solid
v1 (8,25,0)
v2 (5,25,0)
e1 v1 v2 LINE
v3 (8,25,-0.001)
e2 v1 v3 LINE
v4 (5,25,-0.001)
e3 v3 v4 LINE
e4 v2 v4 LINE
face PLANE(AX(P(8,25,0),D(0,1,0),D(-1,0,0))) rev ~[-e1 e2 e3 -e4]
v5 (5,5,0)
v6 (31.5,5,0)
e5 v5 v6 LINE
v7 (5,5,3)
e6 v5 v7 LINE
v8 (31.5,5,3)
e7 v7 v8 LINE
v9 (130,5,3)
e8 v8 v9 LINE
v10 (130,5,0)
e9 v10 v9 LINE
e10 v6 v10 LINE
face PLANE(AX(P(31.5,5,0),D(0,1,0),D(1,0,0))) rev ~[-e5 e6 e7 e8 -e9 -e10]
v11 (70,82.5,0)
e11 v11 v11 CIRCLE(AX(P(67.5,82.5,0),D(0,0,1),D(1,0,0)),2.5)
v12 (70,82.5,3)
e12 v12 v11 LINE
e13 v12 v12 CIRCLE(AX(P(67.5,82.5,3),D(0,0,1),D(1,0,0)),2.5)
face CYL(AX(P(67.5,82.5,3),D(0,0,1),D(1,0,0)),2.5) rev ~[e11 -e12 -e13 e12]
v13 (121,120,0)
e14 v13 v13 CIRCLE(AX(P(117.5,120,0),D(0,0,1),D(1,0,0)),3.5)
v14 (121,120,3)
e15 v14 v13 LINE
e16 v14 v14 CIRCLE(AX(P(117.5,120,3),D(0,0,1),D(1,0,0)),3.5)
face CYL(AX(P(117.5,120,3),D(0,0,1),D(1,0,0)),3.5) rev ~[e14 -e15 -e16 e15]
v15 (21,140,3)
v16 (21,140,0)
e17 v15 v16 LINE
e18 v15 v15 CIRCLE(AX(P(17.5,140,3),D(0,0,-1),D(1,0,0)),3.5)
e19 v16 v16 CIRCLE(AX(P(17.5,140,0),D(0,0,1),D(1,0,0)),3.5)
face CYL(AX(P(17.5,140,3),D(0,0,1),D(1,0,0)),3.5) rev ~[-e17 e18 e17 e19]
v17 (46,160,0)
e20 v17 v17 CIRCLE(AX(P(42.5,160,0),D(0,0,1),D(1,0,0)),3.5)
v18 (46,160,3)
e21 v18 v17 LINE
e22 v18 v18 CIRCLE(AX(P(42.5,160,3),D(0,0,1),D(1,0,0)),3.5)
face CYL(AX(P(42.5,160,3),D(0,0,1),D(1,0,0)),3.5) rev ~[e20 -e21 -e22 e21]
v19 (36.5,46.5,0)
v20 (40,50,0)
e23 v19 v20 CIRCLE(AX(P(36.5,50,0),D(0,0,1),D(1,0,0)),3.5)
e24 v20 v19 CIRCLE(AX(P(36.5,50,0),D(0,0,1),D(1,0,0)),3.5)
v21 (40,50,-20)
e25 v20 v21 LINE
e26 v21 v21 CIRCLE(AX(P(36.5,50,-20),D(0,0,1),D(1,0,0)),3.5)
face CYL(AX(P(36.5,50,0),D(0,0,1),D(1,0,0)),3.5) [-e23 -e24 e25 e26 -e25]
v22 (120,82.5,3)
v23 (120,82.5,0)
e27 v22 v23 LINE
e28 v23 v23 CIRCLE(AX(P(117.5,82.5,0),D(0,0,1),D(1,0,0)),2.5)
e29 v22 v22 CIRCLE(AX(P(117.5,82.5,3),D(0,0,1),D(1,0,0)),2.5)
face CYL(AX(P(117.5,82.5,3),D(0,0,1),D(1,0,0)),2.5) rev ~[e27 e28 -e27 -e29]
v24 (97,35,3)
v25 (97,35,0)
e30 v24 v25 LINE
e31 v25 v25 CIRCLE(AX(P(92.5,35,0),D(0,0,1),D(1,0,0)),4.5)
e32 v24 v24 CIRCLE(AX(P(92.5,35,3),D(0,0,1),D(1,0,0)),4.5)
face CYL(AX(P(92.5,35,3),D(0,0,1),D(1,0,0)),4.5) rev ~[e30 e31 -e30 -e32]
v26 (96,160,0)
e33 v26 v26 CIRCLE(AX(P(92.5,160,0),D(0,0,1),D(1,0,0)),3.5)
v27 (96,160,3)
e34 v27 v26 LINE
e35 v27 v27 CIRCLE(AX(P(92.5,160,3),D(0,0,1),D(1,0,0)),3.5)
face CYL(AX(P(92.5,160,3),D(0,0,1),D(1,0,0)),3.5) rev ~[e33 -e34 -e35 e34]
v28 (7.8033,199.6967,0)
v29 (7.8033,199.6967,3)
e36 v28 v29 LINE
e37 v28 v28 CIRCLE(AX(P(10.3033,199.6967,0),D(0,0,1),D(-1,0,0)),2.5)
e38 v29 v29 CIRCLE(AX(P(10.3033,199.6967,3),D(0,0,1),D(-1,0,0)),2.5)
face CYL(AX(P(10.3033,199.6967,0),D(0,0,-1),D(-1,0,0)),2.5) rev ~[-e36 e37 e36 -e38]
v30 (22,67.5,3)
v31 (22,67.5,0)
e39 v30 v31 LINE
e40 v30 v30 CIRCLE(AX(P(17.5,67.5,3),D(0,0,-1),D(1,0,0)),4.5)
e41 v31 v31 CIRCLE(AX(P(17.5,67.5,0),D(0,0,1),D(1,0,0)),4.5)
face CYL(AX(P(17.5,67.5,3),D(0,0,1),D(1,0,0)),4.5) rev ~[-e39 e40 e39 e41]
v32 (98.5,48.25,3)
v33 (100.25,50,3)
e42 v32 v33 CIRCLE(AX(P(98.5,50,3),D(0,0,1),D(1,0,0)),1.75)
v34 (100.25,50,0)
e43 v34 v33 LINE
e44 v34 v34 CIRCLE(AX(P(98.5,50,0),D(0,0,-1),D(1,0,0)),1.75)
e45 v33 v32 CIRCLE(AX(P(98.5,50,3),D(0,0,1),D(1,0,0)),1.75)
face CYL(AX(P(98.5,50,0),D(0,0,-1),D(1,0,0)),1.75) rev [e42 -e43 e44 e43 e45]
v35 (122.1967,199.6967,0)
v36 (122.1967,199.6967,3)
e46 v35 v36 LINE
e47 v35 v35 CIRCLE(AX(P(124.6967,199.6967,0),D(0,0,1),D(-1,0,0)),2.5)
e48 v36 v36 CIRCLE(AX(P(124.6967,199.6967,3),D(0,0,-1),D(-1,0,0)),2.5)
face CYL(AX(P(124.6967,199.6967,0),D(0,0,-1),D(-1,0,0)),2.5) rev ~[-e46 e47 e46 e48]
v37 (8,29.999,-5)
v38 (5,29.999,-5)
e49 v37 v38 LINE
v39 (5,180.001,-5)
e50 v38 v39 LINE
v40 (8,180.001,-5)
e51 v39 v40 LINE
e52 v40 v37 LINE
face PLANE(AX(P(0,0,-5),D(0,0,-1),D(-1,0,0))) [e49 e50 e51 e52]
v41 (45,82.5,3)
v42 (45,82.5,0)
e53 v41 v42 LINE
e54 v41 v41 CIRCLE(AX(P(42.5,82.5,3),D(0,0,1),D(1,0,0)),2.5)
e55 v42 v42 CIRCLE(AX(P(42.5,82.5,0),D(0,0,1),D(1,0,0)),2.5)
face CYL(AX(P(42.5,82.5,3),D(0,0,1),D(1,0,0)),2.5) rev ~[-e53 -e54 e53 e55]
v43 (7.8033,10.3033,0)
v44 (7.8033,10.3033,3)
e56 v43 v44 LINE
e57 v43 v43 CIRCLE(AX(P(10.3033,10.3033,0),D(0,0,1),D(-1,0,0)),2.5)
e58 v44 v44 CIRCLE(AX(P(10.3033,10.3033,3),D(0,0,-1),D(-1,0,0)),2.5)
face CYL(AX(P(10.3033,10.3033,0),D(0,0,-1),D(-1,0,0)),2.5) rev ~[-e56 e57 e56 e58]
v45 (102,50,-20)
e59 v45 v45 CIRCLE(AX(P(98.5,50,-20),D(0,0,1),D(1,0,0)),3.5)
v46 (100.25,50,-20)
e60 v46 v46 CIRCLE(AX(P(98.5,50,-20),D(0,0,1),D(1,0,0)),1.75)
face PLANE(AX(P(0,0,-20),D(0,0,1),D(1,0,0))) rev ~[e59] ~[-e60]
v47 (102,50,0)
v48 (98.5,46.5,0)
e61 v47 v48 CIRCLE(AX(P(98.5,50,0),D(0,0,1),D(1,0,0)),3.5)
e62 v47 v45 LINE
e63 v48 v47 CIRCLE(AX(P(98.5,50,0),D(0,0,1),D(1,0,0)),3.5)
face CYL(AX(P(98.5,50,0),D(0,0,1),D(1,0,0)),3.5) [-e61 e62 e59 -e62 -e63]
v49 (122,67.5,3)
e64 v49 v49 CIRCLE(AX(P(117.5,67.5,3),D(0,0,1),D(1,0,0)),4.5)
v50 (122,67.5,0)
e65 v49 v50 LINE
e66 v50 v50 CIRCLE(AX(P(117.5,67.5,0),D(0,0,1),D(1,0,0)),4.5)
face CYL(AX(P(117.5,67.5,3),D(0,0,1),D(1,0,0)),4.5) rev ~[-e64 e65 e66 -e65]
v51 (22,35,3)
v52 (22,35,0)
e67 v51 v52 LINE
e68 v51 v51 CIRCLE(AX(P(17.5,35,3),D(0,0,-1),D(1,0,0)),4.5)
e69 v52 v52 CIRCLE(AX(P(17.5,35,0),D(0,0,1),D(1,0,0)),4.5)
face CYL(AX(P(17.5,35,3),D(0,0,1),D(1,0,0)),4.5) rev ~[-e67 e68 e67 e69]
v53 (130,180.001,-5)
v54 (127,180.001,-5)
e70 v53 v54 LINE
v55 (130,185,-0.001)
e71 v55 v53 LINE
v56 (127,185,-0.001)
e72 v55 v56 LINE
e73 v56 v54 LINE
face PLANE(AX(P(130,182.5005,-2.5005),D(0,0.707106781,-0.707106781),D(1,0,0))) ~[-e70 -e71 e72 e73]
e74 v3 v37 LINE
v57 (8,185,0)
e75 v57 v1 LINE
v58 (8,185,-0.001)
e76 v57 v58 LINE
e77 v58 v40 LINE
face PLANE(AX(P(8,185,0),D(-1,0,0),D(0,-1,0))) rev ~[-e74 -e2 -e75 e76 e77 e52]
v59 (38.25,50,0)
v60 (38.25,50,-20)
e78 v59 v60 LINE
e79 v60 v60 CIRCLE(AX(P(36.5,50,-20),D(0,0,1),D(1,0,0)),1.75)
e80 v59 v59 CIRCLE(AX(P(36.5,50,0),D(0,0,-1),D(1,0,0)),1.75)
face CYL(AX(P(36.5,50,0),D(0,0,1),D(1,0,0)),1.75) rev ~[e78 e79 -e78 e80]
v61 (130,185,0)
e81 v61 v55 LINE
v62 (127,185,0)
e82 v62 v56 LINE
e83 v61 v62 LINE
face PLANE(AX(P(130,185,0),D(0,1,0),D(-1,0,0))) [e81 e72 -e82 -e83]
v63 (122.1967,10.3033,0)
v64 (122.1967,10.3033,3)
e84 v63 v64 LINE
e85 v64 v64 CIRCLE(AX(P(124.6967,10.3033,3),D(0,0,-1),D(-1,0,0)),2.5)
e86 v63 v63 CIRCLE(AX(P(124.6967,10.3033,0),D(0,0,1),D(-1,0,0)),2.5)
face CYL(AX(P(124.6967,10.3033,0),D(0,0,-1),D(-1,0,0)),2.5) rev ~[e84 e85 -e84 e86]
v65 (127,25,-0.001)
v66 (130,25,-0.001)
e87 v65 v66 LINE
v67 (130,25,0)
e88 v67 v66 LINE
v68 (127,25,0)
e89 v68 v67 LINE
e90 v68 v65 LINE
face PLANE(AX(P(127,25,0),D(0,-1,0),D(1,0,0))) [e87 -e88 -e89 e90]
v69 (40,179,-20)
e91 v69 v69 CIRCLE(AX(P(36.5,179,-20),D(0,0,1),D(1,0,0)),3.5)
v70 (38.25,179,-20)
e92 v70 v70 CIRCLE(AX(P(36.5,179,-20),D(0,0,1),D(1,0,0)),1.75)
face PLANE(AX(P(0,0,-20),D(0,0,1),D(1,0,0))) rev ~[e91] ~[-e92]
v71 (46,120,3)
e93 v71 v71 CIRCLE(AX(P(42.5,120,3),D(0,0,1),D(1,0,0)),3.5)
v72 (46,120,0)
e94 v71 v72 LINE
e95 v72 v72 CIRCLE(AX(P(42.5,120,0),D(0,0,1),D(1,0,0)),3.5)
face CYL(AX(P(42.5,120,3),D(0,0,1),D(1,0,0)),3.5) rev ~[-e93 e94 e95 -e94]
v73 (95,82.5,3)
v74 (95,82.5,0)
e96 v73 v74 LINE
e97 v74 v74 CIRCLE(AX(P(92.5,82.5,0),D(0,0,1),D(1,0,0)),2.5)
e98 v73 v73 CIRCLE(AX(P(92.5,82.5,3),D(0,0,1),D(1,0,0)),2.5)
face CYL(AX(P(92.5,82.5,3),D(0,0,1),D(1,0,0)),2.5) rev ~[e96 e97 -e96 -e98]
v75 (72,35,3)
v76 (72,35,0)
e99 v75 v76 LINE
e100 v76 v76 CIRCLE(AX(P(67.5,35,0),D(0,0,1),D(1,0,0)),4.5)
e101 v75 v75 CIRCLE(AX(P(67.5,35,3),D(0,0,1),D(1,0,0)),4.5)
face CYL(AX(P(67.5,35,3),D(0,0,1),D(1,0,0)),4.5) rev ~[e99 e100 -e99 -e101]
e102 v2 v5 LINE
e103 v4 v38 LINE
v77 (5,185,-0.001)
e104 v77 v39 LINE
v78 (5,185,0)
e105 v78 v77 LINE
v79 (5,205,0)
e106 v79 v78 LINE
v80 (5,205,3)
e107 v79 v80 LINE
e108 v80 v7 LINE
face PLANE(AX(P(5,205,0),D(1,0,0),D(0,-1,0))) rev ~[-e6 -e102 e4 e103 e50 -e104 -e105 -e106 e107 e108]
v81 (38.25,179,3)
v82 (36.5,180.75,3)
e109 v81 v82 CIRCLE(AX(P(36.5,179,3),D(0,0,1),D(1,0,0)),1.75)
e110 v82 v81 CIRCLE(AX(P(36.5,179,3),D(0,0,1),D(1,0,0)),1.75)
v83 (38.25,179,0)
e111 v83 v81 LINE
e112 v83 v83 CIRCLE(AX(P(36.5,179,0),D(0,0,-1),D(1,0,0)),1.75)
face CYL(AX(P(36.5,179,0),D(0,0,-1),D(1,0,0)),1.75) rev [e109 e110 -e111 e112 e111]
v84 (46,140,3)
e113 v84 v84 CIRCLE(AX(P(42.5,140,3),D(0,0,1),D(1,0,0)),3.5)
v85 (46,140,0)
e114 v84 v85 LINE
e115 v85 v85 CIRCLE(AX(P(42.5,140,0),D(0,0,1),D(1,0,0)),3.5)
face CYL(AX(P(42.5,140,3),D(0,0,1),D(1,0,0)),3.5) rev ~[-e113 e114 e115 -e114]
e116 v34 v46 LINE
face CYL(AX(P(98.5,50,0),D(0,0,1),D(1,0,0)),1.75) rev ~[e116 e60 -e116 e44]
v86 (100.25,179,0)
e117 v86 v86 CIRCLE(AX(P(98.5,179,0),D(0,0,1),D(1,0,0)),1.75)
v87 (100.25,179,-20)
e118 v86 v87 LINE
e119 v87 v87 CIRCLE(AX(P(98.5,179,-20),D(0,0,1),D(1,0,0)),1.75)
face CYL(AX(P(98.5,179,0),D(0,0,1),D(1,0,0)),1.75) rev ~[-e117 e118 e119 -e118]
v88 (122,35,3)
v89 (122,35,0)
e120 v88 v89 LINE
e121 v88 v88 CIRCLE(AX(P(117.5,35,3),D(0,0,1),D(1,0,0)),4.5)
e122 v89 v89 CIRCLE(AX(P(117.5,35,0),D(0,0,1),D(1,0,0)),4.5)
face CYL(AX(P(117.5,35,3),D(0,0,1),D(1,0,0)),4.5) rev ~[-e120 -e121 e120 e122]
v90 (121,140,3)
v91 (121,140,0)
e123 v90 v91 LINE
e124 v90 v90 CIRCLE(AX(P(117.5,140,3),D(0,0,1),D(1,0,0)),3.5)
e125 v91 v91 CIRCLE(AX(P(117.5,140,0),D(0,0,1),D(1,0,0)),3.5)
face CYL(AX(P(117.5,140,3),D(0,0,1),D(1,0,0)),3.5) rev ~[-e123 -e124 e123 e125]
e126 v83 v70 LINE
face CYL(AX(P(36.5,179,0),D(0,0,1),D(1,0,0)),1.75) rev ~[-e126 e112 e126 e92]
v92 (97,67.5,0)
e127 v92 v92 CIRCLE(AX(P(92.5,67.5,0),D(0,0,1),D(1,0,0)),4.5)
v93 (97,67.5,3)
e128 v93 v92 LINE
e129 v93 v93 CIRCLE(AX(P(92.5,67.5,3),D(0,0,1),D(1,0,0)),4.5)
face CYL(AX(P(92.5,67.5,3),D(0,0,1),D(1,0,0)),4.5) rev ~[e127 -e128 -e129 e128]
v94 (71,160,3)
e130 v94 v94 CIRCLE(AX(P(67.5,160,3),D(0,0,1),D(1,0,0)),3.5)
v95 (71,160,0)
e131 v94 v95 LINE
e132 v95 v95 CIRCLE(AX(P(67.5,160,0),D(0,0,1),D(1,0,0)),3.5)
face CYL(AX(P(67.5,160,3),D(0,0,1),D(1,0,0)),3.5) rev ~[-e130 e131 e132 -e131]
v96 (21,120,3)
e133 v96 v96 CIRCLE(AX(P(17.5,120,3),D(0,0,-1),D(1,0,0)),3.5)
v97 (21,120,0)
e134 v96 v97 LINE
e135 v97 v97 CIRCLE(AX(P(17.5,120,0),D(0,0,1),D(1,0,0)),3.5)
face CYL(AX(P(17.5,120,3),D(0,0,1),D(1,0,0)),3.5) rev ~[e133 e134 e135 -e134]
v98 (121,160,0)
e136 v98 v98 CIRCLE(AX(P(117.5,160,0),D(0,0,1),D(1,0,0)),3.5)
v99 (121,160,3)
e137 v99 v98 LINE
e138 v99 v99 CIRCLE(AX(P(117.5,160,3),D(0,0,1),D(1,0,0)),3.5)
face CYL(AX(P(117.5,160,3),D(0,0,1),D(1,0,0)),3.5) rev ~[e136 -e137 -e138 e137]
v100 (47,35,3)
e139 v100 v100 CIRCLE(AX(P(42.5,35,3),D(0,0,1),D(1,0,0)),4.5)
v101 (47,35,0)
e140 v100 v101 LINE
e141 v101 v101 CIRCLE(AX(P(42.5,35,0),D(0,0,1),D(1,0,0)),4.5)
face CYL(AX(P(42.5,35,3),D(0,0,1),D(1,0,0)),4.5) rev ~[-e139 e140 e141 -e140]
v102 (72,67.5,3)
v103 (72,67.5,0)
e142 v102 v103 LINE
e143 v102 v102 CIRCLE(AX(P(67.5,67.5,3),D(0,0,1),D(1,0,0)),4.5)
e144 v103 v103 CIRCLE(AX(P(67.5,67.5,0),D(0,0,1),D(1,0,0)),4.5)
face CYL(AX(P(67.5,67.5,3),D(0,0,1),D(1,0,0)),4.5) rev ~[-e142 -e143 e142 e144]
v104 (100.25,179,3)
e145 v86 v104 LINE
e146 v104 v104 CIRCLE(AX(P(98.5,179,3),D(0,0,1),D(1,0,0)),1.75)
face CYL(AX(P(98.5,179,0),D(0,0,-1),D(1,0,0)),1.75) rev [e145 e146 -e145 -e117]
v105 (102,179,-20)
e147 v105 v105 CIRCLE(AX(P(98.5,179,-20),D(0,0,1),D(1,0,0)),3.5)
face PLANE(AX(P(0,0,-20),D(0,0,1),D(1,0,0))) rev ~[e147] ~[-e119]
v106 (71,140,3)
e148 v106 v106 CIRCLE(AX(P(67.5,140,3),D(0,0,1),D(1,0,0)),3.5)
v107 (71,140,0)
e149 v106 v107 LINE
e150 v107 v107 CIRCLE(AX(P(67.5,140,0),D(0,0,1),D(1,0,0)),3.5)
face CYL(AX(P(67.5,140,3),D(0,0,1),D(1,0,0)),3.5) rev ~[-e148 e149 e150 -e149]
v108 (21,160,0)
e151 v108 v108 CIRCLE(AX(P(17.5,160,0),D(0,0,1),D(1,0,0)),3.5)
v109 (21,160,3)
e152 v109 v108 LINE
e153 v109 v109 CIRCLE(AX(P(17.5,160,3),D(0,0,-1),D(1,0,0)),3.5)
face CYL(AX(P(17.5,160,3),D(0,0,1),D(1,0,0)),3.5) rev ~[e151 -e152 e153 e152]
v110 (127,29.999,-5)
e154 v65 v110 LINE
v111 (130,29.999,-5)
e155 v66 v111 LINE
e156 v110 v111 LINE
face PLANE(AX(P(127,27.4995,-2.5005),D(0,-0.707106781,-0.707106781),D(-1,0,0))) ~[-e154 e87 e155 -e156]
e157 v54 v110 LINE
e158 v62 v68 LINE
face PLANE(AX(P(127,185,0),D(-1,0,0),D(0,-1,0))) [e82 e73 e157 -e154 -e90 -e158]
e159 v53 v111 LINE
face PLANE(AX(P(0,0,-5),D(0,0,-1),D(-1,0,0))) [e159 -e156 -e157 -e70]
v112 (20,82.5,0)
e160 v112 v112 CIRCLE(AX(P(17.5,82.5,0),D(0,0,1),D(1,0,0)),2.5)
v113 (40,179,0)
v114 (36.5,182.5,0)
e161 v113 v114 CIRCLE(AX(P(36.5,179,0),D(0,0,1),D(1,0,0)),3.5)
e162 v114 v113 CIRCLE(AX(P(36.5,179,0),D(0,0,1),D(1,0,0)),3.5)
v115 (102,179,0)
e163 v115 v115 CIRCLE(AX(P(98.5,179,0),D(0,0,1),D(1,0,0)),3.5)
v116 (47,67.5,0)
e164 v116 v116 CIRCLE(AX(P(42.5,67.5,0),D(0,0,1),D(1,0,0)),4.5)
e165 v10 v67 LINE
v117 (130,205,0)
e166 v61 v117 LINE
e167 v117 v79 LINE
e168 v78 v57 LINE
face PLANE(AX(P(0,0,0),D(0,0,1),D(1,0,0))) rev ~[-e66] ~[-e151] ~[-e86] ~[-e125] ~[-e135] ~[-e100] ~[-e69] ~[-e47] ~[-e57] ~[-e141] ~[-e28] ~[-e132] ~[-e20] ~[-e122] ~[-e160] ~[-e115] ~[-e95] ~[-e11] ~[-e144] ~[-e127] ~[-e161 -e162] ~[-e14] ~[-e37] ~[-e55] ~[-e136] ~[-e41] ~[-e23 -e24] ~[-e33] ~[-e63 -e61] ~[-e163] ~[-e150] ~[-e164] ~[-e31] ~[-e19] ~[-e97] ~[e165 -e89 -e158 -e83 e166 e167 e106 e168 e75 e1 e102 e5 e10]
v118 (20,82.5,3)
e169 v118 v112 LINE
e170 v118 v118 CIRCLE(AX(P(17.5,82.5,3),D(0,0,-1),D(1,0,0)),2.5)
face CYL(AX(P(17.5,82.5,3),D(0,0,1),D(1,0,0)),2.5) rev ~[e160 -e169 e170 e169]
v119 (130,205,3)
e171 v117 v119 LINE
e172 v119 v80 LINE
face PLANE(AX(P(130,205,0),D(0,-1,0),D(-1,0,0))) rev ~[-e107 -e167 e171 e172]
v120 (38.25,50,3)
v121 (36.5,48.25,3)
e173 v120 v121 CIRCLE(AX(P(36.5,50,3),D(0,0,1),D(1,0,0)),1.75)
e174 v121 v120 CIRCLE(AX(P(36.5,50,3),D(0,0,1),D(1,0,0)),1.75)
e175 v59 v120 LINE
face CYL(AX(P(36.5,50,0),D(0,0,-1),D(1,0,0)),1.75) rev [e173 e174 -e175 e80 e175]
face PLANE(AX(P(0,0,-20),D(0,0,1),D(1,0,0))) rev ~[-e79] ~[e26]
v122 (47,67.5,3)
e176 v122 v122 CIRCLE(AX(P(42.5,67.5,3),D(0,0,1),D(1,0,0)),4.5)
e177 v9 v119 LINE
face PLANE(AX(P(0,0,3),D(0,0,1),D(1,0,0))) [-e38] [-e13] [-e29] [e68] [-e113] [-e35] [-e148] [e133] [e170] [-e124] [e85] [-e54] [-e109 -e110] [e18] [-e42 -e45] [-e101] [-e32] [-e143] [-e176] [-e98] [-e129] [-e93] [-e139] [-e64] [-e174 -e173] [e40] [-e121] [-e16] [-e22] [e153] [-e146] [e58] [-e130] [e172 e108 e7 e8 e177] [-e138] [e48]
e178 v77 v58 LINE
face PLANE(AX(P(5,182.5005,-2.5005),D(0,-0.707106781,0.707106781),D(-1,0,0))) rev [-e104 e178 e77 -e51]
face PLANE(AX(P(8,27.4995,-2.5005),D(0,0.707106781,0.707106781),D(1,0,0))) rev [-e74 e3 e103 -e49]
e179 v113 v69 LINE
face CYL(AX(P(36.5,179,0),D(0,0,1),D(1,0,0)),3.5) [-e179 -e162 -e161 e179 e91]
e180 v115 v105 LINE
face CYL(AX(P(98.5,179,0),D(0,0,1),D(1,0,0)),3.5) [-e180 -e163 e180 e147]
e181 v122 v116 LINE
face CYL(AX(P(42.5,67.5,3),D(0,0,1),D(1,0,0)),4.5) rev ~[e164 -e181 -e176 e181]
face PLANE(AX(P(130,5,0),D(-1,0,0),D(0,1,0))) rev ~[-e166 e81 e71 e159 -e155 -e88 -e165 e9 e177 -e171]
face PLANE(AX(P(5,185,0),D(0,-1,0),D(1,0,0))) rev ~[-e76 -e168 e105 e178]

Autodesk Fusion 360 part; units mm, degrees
sketch "Sketch1" plane through (0, 0, 0) normal (0, 0, 1) x (1, 0, 0)
  line L0 (5, 5) -> (130, 5)
  line L1 (130, 5) -> (130, 205)
  line L2 (130, 205) -> (5, 205)
  line L3 (5, 205) -> (5, 5)
  line L4 (5, 5) -> (31.5, 5)
  line L5 (31.5, 5) -> (31.5, 45)
  line L6 (31.5, 45) -> (103.5, 45)
  line L7 (103.5, 45) -> (103.5, 184)
  line L8 (103.5, 184) -> (31.5, 184)
  line L9 (31.5, 184) -> (31.5, 45)
  line L10 (31.5, 45) -> (36.5, 45)
  line L11 (36.5, 45) -> (36.5, 50)
  circle A0 centre (36.5, 50) radius 1.75
  line L12 (103.5, 45) -> (98.5, 45)
  line L13 (98.5, 45) -> (98.5, 50)
  circle A1 centre (98.5, 50) radius 1.75
  line L14 (31.5, 184) -> (36.5, 184)
  line L15 (36.5, 184) -> (36.5, 179)
  circle A2 centre (36.5, 179) radius 1.75
  line L16 (103.5, 184) -> (103.5, 179)
  line L17 (103.5, 179) -> (98.5, 179)
  circle A3 centre (98.5, 179) radius 1.75
  dimension "d1" = 125
  dimension "d2" = 200
  dimension "d58" = 26.5
  dimension "d59" = 40
  dimension "d60" = 72
  dimension "d61" = 139
  dimension "d62" = 5
  dimension "d63" = 5
  dimension "d64" = 3.5
  dimension "d65" = 5
  dimension "d66" = 5
  dimension "d67" = 3.5
  dimension "d68" = 5
  dimension "d69" = 5
  dimension "d70" = 3.5
  dimension "d71" = 5
  dimension "d72" = 5
  dimension "d73" = 3.5
extrude "Extrude1" add sketch "Sketch1" along normal blind 3 contours L6 L7 L8 L9 L10 L12 L14 L16 | L0 L1 L2 L3 L4
sketch "Sketch2" plane through (0, 0, 0) normal (0, 0, -1) x (-1, 0, 0)
  line L0 (-5, 5) -> (-5, 205)
  line L1 (-5, 205) -> (-130, 205)
  line L2 (-130, 205) -> (-130, 5)
  line L3 (-130, 5) -> (-5, 5)
  line L4 (-130, 205) -> (-130, 185)
  line L5 (-130, 5) -> (-130, 25)
  line L6 (-130, 185) -> (-127, 185)
  line L7 (-127, 185) -> (-127, 25)
  line L8 (-127, 25) -> (-130, 25)
  line L9 (-130, 25) -> (-130, 185)
  line L10 (-8, 185) -> (-8, 25)
  line L11 (-5, 25) -> (-5, 185)
  line L12 (-5, 185) -> (-8, 185)
  line L13 (-5, 205) -> (-5, 185)
  line L14 (-8, 25) -> (-5, 25)
  line L15 (-5, 5) -> (-5, 25)
  line L16 (-5, 205) -> (-10.3033, 199.6967)
  line L17 (-5, 205) -> (-10, 205) construction
  line L18 (-5, 5) -> (-10.3033, 10.3033)
  line L19 (-5, 5) -> (-10, 5) construction
  circle A0 centre (-10.3033, 10.3033) radius 2.5
  circle A1 centre (-10.3033, 199.6967) radius 2.5
  circle A2 centre (-124.6967, 199.6967) radius 2.5
  line L20 (-130, 205) -> (-124.6967, 199.6967)
  line L21 (-130, 5) -> (-124.6967, 10.3033)
  circle A3 centre (-124.6967, 10.3033) radius 2.5
  line L22 (-67.5, 205) -> (-130, 205)
  line L23 (-67.5, 205) -> (-5, 205)
  line L24 (-30, 205) -> (-30, 5)
  line L25 (-30, 205) -> (-5, 205)
  line L26 (-5, 185) -> (-5, 205)
  line L27 (-5, 185) -> (-8, 185)
  line L28 (-8, 185) -> (-8, 25)
  line L29 (-8, 25) -> (-5, 25)
  line L30 (-5, 25) -> (-5, 5)
  line L31 (-5, 5) -> (-30, 5)
  line L32 (-30, 205) -> (-67.5, 205)
  line L33 (-67.5, 5) -> (-36.25, 5)
  line L34 (-67.5, 5) -> (-98.75, 5)
  line L35 (-67.5, 205) -> (-130, 205)
  line L36 (-130, 205) -> (-130, 185)
  line L37 (-127, 185) -> (-127, 25)
  line L38 (-130, 5) -> (-130, 25)
  line L39 (-130, 5) -> (-98.75, 5)
  line L40 (-130, 185) -> (-127, 185)
  line L41 (-30, 205) -> (-55, 205)
  line L42 (-55, 205) -> (-55, 5)
  line L43 (-55, 5) -> (-30, 5)
  line L44 (-30, 5) -> (-30, 205)
  line L45 (-55, 205) -> (-80, 205)
  line L46 (-80, 205) -> (-80, 5)
  line L47 (-80, 5) -> (-55, 5)
  line L48 (-55, 5) -> (-55, 205)
  line L49 (-80, 205) -> (-105, 205)
  line L50 (-105, 205) -> (-105, 5)
  line L51 (-105, 5) -> (-80, 5)
  line L52 (-80, 5) -> (-80, 205)
  circle A4 centre (-98.5, 50) radius 1.75
  circle A5 centre (-98.5, 179) radius 1.75
  circle A6 centre (-36.5, 50) radius 1.75
  circle A7 centre (-36.5, 179) radius 1.75
  dimension "d6" = 20
  dimension "d7" = 3
  dimension "d8" = 45
  dimension "d9" = 7.5
  dimension "d10" = 45
  dimension "d11" = 7.5
  dimension "d12" = 5
  dimension "d13" = 5
  dimension "d20" = 160
  dimension "d21" = 20
  dimension "d23" = 200
  dimension "d38" = 25
  dimension "d39" = 25
  dimension "d40" = 25
  dimension "d41" = 25
extrude "Extrude2" cut sketch "Sketch2" against normal blind 3 contours A1
extrude "Extrude3" cut sketch "Sketch2" against normal blind 3 contours A0 | A2 | A3
extrude "Extrude4" add sketch "Sketch2" along normal blind 5 contours L0 L10 L11 L12 L14 L27 L28 L29 | L2 L6 L7 L8 L9 L37 L40
sketch "Sketch3" plane through (0, 0, 3) normal (0, 0, 1) x (1, 0, 0)
  circle A0 centre (124.6967, 199.6967) radius 2.5
  circle A1 centre (124.6967, 10.3033) radius 2.5
  circle A2 centre (10.3033, 10.3033) radius 2.5
  circle A3 centre (10.3033, 199.6967) radius 2.5
  line L0 (5, 205) -> (5, 5)
  line L1 (5, 5) -> (130, 5)
  line L2 (130, 5) -> (130, 205)
  line L3 (130, 205) -> (5, 205)
  line L4 (5, 5) -> (5, 35)
  line L5 (5, 5) -> (30, 5)
  line L6 (5, 35) -> (17.5, 35)
  circle A4 centre (17.5, 35) radius 4.5
  line L7 (17.5, 35) -> (17.5, 67.5)
  circle A5 centre (17.5, 67.5) radius 4.5
  line L8 (17.5, 67.5) -> (17.5, 120)
  circle A6 centre (17.5, 120) radius 3.5
  line L9 (17.5, 120) -> (17.5, 140)
  circle A7 centre (17.5, 140) radius 3.5
  line L10 (17.5, 140) -> (17.5, 160)
  circle A8 centre (17.5, 160) radius 3.5
  line L11 (130, 5) -> (98.75, 5)
  line L12 (30, 5) -> (30, 205)
  circle A9 centre (42.5, 160) radius 3.5
  circle A10 centre (42.5, 140) radius 3.5
  circle A11 centre (42.5, 67.5) radius 4.5
  circle A12 centre (42.5, 120) radius 3.5
  circle A13 centre (42.5, 35) radius 4.5
  line L13 (55, 205) -> (55, 5)
  circle A14 centre (67.5, 160) radius 3.5
  circle A15 centre (67.5, 140) radius 3.5
  circle A16 centre (67.5, 67.5) radius 4.5
  circle A17 centre (67.5, 35) radius 4.5
  line L14 (80, 5) -> (80, 205)
  circle A18 centre (92.5, 160) radius 3.5
  circle A19 centre (92.5, 67.5) radius 4.5
  circle A20 centre (92.5, 35) radius 4.5
  line L15 (80, 205) -> (80, 5)
  circle A21 centre (117.5, 160) radius 3.5
  circle A22 centre (117.5, 140) radius 3.5
  circle A23 centre (117.5, 120) radius 3.5
  circle A24 centre (117.5, 67.5) radius 4.5
  circle A25 centre (117.5, 35) radius 4.5
  line L16 (17.5, 67.5) -> (17.5, 82.5)
  circle A26 centre (17.5, 82.5) radius 2.5
  circle A27 centre (42.5, 82.5) radius 2.5
  circle A28 centre (67.5, 82.5) radius 2.5
  circle A29 centre (92.5, 82.5) radius 2.5
  line L17 (105, 205) -> (105, 5)
  circle A30 centre (117.5, 82.5) radius 2.5
  circle A31 centre (98.5, 50) radius 1.75
  circle A32 centre (98.5, 179) radius 1.75
  circle A33 centre (36.5, 50) radius 1.75
  circle A34 centre (36.5, 179) radius 1.75
  dimension "d24" = 30
  dimension "d25" = 31.25
  dimension "d26" = 12.5
  dimension "d27" = 9
  dimension "d28" = 32.5
  dimension "d29" = 9
  dimension "d30" = 52.5
  dimension "d31" = 7
  dimension "d32" = 20
  dimension "d33" = 7
  dimension "d34" = 20
  dimension "d35" = 7
  dimension "d36" = 31.25
  dimension "d42" = 15
  dimension "d43" = 5
extrude "Extrude5" cut sketch "Sketch3" against normal blind 3 contours A8 | L9 A7 L10 | L9 A7 L10 | L8 A6 L9 | L8 A6 L9 | L8 L16 A26 | L8 L16 A26 | L7 A5 L8 L16 | L7 A5 L8 L16 | L6 A4 L7 | L6 A4 L7 | A9 | A10 | A11 | A12 | A13 | A14 | A15 | A16 | A17 | A18 | A19 | A20 | A21 | A22 | A23 | A24 | A25 | A27 | A28 | A29 | A30
sketch "Sketch4" plane through (0, 0, 3) normal (0, 0, 1) x (1, 0, 0)
  circle A0 centre (117.5, 82.5) radius 2.5
  circle A1 centre (42.5, 160) radius 3.5
  circle A2 centre (92.5, 67.5) radius 4.5
  circle A3 centre (67.5, 82.5) radius 2.5
  circle A4 centre (42.5, 82.5) radius 2.5
  circle A5 centre (17.5, 67.5) radius 4.5
  circle A6 centre (17.5, 160) radius 3.5
  circle A7 centre (17.5, 82.5) radius 2.5
  circle A8 centre (42.5, 67.5) radius 4.5
  circle A9 centre (67.5, 140) radius 3.5
  circle A10 centre (92.5, 35) radius 4.5
  circle A11 centre (67.5, 160) radius 3.5
  circle A12 centre (117.5, 120) radius 3.5
  circle A13 centre (117.5, 67.5) radius 4.5
  circle A14 centre (117.5, 160) radius 3.5
  circle A15 centre (92.5, 82.5) radius 2.5
  circle A16 centre (67.5, 67.5) radius 4.5
  circle A17 centre (42.5, 120) radius 3.5
  circle A18 centre (17.5, 35) radius 4.5
  circle A19 centre (17.5, 140) radius 3.5
  circle A20 centre (17.5, 120) radius 3.5
  circle A21 centre (42.5, 35) radius 4.5
  circle A22 centre (42.5, 140) radius 3.5
  circle A23 centre (67.5, 35) radius 4.5
  circle A24 centre (92.5, 160) radius 3.5
  circle A25 centre (117.5, 140) radius 3.5
  circle A26 centre (117.5, 35) radius 4.5
  circle A27 centre (124.6967, 199.6967) radius 2.5
  circle A28 centre (124.6967, 10.3033) radius 2.5
  circle A29 centre (10.3033, 10.3033) radius 2.5
  circle A30 centre (10.3033, 199.6967) radius 2.5
  line L0 (5, 205) -> (5, 5)
  line L1 (5, 5) -> (130, 5)
  line L2 (130, 5) -> (130, 205)
  line L3 (130, 205) -> (5, 205)
  line L4 (5, 205) -> (17.5, 205)
  line L5 (17.5, 205) -> (17.5, 5)
  line L6 (17.5, 205) -> (42.5, 205)
  line L7 (42.5, 205) -> (42.5, 5)
  line L8 (42.5, 5) -> (17.5, 5)
  line L9 (17.5, 5) -> (17.5, 205)
  line L10 (42.5, 205) -> (67.5, 205)
  line L11 (67.5, 205) -> (67.5, 5)
  line L12 (67.5, 5) -> (42.5, 5)
  line L13 (42.5, 5) -> (42.5, 205)
  line L14 (67.5, 205) -> (92.5, 205)
  line L15 (92.5, 205) -> (92.5, 5)
  line L16 (92.5, 5) -> (67.5, 5)
  line L17 (67.5, 5) -> (67.5, 205)
  line L18 (92.5, 205) -> (117.5, 205)
  line L19 (117.5, 205) -> (117.5, 5)
  line L20 (117.5, 5) -> (92.5, 5)
  line L21 (92.5, 5) -> (92.5, 205)
  line L22 (5, 205) -> (5, 185)
  line L23 (5, 185) -> (130, 185)
  circle A31 centre (98.5, 50) radius 1.75
  circle A32 centre (98.5, 179) radius 1.75
  circle A33 centre (36.5, 50) radius 1.75
  circle A34 centre (36.5, 179) radius 1.75
  dimension "d47" = 12.5
  dimension "d49" = 25
  dimension "d50" = 200
  dimension "d51" = 25
  dimension "d52" = 25
  dimension "d53" = 200
  dimension "d54" = 25
  dimension "d56" = 20
  dimension "d57" = 125
sketch "Sketch5" plane through (0, 0, 3) normal (0, 0, 1) x (1, 0, 0)
chamfer "Chamfer1" distance 5 angle 45 4 edges at (6.5, 185, -5) (6.5, 25, -5) (128.5, 25, -5) (128.5, 185, -5)
sketch "Sketch6" plane through (0, 0, 0) normal (0, 0, 1) x (1, 0, 0)
  circle A0 centre (98.5, 179) radius 3.5
  circle A1 centre (98.5, 50) radius 3.5
  circle A2 centre (98.5, 50) radius 1.75
  circle A3 centre (98.5, 179) radius 1.75
  line L0 (67.5, 205) -> (67.5, 5)
  circle A4 centre (36.5, 179) radius 3.5
  circle A5 centre (36.5, 179) radius 1.75
  circle A6 centre (36.5, 50) radius 3.5
  circle A7 centre (36.5, 50) radius 1.75
  dimension "d75" = 7
  dimension "d76" = 7
  dimension "d77" = 3.5
  dimension "d78" = 3.5
extrude "Extrude6" add sketch "Sketch6" against normal blind 20
